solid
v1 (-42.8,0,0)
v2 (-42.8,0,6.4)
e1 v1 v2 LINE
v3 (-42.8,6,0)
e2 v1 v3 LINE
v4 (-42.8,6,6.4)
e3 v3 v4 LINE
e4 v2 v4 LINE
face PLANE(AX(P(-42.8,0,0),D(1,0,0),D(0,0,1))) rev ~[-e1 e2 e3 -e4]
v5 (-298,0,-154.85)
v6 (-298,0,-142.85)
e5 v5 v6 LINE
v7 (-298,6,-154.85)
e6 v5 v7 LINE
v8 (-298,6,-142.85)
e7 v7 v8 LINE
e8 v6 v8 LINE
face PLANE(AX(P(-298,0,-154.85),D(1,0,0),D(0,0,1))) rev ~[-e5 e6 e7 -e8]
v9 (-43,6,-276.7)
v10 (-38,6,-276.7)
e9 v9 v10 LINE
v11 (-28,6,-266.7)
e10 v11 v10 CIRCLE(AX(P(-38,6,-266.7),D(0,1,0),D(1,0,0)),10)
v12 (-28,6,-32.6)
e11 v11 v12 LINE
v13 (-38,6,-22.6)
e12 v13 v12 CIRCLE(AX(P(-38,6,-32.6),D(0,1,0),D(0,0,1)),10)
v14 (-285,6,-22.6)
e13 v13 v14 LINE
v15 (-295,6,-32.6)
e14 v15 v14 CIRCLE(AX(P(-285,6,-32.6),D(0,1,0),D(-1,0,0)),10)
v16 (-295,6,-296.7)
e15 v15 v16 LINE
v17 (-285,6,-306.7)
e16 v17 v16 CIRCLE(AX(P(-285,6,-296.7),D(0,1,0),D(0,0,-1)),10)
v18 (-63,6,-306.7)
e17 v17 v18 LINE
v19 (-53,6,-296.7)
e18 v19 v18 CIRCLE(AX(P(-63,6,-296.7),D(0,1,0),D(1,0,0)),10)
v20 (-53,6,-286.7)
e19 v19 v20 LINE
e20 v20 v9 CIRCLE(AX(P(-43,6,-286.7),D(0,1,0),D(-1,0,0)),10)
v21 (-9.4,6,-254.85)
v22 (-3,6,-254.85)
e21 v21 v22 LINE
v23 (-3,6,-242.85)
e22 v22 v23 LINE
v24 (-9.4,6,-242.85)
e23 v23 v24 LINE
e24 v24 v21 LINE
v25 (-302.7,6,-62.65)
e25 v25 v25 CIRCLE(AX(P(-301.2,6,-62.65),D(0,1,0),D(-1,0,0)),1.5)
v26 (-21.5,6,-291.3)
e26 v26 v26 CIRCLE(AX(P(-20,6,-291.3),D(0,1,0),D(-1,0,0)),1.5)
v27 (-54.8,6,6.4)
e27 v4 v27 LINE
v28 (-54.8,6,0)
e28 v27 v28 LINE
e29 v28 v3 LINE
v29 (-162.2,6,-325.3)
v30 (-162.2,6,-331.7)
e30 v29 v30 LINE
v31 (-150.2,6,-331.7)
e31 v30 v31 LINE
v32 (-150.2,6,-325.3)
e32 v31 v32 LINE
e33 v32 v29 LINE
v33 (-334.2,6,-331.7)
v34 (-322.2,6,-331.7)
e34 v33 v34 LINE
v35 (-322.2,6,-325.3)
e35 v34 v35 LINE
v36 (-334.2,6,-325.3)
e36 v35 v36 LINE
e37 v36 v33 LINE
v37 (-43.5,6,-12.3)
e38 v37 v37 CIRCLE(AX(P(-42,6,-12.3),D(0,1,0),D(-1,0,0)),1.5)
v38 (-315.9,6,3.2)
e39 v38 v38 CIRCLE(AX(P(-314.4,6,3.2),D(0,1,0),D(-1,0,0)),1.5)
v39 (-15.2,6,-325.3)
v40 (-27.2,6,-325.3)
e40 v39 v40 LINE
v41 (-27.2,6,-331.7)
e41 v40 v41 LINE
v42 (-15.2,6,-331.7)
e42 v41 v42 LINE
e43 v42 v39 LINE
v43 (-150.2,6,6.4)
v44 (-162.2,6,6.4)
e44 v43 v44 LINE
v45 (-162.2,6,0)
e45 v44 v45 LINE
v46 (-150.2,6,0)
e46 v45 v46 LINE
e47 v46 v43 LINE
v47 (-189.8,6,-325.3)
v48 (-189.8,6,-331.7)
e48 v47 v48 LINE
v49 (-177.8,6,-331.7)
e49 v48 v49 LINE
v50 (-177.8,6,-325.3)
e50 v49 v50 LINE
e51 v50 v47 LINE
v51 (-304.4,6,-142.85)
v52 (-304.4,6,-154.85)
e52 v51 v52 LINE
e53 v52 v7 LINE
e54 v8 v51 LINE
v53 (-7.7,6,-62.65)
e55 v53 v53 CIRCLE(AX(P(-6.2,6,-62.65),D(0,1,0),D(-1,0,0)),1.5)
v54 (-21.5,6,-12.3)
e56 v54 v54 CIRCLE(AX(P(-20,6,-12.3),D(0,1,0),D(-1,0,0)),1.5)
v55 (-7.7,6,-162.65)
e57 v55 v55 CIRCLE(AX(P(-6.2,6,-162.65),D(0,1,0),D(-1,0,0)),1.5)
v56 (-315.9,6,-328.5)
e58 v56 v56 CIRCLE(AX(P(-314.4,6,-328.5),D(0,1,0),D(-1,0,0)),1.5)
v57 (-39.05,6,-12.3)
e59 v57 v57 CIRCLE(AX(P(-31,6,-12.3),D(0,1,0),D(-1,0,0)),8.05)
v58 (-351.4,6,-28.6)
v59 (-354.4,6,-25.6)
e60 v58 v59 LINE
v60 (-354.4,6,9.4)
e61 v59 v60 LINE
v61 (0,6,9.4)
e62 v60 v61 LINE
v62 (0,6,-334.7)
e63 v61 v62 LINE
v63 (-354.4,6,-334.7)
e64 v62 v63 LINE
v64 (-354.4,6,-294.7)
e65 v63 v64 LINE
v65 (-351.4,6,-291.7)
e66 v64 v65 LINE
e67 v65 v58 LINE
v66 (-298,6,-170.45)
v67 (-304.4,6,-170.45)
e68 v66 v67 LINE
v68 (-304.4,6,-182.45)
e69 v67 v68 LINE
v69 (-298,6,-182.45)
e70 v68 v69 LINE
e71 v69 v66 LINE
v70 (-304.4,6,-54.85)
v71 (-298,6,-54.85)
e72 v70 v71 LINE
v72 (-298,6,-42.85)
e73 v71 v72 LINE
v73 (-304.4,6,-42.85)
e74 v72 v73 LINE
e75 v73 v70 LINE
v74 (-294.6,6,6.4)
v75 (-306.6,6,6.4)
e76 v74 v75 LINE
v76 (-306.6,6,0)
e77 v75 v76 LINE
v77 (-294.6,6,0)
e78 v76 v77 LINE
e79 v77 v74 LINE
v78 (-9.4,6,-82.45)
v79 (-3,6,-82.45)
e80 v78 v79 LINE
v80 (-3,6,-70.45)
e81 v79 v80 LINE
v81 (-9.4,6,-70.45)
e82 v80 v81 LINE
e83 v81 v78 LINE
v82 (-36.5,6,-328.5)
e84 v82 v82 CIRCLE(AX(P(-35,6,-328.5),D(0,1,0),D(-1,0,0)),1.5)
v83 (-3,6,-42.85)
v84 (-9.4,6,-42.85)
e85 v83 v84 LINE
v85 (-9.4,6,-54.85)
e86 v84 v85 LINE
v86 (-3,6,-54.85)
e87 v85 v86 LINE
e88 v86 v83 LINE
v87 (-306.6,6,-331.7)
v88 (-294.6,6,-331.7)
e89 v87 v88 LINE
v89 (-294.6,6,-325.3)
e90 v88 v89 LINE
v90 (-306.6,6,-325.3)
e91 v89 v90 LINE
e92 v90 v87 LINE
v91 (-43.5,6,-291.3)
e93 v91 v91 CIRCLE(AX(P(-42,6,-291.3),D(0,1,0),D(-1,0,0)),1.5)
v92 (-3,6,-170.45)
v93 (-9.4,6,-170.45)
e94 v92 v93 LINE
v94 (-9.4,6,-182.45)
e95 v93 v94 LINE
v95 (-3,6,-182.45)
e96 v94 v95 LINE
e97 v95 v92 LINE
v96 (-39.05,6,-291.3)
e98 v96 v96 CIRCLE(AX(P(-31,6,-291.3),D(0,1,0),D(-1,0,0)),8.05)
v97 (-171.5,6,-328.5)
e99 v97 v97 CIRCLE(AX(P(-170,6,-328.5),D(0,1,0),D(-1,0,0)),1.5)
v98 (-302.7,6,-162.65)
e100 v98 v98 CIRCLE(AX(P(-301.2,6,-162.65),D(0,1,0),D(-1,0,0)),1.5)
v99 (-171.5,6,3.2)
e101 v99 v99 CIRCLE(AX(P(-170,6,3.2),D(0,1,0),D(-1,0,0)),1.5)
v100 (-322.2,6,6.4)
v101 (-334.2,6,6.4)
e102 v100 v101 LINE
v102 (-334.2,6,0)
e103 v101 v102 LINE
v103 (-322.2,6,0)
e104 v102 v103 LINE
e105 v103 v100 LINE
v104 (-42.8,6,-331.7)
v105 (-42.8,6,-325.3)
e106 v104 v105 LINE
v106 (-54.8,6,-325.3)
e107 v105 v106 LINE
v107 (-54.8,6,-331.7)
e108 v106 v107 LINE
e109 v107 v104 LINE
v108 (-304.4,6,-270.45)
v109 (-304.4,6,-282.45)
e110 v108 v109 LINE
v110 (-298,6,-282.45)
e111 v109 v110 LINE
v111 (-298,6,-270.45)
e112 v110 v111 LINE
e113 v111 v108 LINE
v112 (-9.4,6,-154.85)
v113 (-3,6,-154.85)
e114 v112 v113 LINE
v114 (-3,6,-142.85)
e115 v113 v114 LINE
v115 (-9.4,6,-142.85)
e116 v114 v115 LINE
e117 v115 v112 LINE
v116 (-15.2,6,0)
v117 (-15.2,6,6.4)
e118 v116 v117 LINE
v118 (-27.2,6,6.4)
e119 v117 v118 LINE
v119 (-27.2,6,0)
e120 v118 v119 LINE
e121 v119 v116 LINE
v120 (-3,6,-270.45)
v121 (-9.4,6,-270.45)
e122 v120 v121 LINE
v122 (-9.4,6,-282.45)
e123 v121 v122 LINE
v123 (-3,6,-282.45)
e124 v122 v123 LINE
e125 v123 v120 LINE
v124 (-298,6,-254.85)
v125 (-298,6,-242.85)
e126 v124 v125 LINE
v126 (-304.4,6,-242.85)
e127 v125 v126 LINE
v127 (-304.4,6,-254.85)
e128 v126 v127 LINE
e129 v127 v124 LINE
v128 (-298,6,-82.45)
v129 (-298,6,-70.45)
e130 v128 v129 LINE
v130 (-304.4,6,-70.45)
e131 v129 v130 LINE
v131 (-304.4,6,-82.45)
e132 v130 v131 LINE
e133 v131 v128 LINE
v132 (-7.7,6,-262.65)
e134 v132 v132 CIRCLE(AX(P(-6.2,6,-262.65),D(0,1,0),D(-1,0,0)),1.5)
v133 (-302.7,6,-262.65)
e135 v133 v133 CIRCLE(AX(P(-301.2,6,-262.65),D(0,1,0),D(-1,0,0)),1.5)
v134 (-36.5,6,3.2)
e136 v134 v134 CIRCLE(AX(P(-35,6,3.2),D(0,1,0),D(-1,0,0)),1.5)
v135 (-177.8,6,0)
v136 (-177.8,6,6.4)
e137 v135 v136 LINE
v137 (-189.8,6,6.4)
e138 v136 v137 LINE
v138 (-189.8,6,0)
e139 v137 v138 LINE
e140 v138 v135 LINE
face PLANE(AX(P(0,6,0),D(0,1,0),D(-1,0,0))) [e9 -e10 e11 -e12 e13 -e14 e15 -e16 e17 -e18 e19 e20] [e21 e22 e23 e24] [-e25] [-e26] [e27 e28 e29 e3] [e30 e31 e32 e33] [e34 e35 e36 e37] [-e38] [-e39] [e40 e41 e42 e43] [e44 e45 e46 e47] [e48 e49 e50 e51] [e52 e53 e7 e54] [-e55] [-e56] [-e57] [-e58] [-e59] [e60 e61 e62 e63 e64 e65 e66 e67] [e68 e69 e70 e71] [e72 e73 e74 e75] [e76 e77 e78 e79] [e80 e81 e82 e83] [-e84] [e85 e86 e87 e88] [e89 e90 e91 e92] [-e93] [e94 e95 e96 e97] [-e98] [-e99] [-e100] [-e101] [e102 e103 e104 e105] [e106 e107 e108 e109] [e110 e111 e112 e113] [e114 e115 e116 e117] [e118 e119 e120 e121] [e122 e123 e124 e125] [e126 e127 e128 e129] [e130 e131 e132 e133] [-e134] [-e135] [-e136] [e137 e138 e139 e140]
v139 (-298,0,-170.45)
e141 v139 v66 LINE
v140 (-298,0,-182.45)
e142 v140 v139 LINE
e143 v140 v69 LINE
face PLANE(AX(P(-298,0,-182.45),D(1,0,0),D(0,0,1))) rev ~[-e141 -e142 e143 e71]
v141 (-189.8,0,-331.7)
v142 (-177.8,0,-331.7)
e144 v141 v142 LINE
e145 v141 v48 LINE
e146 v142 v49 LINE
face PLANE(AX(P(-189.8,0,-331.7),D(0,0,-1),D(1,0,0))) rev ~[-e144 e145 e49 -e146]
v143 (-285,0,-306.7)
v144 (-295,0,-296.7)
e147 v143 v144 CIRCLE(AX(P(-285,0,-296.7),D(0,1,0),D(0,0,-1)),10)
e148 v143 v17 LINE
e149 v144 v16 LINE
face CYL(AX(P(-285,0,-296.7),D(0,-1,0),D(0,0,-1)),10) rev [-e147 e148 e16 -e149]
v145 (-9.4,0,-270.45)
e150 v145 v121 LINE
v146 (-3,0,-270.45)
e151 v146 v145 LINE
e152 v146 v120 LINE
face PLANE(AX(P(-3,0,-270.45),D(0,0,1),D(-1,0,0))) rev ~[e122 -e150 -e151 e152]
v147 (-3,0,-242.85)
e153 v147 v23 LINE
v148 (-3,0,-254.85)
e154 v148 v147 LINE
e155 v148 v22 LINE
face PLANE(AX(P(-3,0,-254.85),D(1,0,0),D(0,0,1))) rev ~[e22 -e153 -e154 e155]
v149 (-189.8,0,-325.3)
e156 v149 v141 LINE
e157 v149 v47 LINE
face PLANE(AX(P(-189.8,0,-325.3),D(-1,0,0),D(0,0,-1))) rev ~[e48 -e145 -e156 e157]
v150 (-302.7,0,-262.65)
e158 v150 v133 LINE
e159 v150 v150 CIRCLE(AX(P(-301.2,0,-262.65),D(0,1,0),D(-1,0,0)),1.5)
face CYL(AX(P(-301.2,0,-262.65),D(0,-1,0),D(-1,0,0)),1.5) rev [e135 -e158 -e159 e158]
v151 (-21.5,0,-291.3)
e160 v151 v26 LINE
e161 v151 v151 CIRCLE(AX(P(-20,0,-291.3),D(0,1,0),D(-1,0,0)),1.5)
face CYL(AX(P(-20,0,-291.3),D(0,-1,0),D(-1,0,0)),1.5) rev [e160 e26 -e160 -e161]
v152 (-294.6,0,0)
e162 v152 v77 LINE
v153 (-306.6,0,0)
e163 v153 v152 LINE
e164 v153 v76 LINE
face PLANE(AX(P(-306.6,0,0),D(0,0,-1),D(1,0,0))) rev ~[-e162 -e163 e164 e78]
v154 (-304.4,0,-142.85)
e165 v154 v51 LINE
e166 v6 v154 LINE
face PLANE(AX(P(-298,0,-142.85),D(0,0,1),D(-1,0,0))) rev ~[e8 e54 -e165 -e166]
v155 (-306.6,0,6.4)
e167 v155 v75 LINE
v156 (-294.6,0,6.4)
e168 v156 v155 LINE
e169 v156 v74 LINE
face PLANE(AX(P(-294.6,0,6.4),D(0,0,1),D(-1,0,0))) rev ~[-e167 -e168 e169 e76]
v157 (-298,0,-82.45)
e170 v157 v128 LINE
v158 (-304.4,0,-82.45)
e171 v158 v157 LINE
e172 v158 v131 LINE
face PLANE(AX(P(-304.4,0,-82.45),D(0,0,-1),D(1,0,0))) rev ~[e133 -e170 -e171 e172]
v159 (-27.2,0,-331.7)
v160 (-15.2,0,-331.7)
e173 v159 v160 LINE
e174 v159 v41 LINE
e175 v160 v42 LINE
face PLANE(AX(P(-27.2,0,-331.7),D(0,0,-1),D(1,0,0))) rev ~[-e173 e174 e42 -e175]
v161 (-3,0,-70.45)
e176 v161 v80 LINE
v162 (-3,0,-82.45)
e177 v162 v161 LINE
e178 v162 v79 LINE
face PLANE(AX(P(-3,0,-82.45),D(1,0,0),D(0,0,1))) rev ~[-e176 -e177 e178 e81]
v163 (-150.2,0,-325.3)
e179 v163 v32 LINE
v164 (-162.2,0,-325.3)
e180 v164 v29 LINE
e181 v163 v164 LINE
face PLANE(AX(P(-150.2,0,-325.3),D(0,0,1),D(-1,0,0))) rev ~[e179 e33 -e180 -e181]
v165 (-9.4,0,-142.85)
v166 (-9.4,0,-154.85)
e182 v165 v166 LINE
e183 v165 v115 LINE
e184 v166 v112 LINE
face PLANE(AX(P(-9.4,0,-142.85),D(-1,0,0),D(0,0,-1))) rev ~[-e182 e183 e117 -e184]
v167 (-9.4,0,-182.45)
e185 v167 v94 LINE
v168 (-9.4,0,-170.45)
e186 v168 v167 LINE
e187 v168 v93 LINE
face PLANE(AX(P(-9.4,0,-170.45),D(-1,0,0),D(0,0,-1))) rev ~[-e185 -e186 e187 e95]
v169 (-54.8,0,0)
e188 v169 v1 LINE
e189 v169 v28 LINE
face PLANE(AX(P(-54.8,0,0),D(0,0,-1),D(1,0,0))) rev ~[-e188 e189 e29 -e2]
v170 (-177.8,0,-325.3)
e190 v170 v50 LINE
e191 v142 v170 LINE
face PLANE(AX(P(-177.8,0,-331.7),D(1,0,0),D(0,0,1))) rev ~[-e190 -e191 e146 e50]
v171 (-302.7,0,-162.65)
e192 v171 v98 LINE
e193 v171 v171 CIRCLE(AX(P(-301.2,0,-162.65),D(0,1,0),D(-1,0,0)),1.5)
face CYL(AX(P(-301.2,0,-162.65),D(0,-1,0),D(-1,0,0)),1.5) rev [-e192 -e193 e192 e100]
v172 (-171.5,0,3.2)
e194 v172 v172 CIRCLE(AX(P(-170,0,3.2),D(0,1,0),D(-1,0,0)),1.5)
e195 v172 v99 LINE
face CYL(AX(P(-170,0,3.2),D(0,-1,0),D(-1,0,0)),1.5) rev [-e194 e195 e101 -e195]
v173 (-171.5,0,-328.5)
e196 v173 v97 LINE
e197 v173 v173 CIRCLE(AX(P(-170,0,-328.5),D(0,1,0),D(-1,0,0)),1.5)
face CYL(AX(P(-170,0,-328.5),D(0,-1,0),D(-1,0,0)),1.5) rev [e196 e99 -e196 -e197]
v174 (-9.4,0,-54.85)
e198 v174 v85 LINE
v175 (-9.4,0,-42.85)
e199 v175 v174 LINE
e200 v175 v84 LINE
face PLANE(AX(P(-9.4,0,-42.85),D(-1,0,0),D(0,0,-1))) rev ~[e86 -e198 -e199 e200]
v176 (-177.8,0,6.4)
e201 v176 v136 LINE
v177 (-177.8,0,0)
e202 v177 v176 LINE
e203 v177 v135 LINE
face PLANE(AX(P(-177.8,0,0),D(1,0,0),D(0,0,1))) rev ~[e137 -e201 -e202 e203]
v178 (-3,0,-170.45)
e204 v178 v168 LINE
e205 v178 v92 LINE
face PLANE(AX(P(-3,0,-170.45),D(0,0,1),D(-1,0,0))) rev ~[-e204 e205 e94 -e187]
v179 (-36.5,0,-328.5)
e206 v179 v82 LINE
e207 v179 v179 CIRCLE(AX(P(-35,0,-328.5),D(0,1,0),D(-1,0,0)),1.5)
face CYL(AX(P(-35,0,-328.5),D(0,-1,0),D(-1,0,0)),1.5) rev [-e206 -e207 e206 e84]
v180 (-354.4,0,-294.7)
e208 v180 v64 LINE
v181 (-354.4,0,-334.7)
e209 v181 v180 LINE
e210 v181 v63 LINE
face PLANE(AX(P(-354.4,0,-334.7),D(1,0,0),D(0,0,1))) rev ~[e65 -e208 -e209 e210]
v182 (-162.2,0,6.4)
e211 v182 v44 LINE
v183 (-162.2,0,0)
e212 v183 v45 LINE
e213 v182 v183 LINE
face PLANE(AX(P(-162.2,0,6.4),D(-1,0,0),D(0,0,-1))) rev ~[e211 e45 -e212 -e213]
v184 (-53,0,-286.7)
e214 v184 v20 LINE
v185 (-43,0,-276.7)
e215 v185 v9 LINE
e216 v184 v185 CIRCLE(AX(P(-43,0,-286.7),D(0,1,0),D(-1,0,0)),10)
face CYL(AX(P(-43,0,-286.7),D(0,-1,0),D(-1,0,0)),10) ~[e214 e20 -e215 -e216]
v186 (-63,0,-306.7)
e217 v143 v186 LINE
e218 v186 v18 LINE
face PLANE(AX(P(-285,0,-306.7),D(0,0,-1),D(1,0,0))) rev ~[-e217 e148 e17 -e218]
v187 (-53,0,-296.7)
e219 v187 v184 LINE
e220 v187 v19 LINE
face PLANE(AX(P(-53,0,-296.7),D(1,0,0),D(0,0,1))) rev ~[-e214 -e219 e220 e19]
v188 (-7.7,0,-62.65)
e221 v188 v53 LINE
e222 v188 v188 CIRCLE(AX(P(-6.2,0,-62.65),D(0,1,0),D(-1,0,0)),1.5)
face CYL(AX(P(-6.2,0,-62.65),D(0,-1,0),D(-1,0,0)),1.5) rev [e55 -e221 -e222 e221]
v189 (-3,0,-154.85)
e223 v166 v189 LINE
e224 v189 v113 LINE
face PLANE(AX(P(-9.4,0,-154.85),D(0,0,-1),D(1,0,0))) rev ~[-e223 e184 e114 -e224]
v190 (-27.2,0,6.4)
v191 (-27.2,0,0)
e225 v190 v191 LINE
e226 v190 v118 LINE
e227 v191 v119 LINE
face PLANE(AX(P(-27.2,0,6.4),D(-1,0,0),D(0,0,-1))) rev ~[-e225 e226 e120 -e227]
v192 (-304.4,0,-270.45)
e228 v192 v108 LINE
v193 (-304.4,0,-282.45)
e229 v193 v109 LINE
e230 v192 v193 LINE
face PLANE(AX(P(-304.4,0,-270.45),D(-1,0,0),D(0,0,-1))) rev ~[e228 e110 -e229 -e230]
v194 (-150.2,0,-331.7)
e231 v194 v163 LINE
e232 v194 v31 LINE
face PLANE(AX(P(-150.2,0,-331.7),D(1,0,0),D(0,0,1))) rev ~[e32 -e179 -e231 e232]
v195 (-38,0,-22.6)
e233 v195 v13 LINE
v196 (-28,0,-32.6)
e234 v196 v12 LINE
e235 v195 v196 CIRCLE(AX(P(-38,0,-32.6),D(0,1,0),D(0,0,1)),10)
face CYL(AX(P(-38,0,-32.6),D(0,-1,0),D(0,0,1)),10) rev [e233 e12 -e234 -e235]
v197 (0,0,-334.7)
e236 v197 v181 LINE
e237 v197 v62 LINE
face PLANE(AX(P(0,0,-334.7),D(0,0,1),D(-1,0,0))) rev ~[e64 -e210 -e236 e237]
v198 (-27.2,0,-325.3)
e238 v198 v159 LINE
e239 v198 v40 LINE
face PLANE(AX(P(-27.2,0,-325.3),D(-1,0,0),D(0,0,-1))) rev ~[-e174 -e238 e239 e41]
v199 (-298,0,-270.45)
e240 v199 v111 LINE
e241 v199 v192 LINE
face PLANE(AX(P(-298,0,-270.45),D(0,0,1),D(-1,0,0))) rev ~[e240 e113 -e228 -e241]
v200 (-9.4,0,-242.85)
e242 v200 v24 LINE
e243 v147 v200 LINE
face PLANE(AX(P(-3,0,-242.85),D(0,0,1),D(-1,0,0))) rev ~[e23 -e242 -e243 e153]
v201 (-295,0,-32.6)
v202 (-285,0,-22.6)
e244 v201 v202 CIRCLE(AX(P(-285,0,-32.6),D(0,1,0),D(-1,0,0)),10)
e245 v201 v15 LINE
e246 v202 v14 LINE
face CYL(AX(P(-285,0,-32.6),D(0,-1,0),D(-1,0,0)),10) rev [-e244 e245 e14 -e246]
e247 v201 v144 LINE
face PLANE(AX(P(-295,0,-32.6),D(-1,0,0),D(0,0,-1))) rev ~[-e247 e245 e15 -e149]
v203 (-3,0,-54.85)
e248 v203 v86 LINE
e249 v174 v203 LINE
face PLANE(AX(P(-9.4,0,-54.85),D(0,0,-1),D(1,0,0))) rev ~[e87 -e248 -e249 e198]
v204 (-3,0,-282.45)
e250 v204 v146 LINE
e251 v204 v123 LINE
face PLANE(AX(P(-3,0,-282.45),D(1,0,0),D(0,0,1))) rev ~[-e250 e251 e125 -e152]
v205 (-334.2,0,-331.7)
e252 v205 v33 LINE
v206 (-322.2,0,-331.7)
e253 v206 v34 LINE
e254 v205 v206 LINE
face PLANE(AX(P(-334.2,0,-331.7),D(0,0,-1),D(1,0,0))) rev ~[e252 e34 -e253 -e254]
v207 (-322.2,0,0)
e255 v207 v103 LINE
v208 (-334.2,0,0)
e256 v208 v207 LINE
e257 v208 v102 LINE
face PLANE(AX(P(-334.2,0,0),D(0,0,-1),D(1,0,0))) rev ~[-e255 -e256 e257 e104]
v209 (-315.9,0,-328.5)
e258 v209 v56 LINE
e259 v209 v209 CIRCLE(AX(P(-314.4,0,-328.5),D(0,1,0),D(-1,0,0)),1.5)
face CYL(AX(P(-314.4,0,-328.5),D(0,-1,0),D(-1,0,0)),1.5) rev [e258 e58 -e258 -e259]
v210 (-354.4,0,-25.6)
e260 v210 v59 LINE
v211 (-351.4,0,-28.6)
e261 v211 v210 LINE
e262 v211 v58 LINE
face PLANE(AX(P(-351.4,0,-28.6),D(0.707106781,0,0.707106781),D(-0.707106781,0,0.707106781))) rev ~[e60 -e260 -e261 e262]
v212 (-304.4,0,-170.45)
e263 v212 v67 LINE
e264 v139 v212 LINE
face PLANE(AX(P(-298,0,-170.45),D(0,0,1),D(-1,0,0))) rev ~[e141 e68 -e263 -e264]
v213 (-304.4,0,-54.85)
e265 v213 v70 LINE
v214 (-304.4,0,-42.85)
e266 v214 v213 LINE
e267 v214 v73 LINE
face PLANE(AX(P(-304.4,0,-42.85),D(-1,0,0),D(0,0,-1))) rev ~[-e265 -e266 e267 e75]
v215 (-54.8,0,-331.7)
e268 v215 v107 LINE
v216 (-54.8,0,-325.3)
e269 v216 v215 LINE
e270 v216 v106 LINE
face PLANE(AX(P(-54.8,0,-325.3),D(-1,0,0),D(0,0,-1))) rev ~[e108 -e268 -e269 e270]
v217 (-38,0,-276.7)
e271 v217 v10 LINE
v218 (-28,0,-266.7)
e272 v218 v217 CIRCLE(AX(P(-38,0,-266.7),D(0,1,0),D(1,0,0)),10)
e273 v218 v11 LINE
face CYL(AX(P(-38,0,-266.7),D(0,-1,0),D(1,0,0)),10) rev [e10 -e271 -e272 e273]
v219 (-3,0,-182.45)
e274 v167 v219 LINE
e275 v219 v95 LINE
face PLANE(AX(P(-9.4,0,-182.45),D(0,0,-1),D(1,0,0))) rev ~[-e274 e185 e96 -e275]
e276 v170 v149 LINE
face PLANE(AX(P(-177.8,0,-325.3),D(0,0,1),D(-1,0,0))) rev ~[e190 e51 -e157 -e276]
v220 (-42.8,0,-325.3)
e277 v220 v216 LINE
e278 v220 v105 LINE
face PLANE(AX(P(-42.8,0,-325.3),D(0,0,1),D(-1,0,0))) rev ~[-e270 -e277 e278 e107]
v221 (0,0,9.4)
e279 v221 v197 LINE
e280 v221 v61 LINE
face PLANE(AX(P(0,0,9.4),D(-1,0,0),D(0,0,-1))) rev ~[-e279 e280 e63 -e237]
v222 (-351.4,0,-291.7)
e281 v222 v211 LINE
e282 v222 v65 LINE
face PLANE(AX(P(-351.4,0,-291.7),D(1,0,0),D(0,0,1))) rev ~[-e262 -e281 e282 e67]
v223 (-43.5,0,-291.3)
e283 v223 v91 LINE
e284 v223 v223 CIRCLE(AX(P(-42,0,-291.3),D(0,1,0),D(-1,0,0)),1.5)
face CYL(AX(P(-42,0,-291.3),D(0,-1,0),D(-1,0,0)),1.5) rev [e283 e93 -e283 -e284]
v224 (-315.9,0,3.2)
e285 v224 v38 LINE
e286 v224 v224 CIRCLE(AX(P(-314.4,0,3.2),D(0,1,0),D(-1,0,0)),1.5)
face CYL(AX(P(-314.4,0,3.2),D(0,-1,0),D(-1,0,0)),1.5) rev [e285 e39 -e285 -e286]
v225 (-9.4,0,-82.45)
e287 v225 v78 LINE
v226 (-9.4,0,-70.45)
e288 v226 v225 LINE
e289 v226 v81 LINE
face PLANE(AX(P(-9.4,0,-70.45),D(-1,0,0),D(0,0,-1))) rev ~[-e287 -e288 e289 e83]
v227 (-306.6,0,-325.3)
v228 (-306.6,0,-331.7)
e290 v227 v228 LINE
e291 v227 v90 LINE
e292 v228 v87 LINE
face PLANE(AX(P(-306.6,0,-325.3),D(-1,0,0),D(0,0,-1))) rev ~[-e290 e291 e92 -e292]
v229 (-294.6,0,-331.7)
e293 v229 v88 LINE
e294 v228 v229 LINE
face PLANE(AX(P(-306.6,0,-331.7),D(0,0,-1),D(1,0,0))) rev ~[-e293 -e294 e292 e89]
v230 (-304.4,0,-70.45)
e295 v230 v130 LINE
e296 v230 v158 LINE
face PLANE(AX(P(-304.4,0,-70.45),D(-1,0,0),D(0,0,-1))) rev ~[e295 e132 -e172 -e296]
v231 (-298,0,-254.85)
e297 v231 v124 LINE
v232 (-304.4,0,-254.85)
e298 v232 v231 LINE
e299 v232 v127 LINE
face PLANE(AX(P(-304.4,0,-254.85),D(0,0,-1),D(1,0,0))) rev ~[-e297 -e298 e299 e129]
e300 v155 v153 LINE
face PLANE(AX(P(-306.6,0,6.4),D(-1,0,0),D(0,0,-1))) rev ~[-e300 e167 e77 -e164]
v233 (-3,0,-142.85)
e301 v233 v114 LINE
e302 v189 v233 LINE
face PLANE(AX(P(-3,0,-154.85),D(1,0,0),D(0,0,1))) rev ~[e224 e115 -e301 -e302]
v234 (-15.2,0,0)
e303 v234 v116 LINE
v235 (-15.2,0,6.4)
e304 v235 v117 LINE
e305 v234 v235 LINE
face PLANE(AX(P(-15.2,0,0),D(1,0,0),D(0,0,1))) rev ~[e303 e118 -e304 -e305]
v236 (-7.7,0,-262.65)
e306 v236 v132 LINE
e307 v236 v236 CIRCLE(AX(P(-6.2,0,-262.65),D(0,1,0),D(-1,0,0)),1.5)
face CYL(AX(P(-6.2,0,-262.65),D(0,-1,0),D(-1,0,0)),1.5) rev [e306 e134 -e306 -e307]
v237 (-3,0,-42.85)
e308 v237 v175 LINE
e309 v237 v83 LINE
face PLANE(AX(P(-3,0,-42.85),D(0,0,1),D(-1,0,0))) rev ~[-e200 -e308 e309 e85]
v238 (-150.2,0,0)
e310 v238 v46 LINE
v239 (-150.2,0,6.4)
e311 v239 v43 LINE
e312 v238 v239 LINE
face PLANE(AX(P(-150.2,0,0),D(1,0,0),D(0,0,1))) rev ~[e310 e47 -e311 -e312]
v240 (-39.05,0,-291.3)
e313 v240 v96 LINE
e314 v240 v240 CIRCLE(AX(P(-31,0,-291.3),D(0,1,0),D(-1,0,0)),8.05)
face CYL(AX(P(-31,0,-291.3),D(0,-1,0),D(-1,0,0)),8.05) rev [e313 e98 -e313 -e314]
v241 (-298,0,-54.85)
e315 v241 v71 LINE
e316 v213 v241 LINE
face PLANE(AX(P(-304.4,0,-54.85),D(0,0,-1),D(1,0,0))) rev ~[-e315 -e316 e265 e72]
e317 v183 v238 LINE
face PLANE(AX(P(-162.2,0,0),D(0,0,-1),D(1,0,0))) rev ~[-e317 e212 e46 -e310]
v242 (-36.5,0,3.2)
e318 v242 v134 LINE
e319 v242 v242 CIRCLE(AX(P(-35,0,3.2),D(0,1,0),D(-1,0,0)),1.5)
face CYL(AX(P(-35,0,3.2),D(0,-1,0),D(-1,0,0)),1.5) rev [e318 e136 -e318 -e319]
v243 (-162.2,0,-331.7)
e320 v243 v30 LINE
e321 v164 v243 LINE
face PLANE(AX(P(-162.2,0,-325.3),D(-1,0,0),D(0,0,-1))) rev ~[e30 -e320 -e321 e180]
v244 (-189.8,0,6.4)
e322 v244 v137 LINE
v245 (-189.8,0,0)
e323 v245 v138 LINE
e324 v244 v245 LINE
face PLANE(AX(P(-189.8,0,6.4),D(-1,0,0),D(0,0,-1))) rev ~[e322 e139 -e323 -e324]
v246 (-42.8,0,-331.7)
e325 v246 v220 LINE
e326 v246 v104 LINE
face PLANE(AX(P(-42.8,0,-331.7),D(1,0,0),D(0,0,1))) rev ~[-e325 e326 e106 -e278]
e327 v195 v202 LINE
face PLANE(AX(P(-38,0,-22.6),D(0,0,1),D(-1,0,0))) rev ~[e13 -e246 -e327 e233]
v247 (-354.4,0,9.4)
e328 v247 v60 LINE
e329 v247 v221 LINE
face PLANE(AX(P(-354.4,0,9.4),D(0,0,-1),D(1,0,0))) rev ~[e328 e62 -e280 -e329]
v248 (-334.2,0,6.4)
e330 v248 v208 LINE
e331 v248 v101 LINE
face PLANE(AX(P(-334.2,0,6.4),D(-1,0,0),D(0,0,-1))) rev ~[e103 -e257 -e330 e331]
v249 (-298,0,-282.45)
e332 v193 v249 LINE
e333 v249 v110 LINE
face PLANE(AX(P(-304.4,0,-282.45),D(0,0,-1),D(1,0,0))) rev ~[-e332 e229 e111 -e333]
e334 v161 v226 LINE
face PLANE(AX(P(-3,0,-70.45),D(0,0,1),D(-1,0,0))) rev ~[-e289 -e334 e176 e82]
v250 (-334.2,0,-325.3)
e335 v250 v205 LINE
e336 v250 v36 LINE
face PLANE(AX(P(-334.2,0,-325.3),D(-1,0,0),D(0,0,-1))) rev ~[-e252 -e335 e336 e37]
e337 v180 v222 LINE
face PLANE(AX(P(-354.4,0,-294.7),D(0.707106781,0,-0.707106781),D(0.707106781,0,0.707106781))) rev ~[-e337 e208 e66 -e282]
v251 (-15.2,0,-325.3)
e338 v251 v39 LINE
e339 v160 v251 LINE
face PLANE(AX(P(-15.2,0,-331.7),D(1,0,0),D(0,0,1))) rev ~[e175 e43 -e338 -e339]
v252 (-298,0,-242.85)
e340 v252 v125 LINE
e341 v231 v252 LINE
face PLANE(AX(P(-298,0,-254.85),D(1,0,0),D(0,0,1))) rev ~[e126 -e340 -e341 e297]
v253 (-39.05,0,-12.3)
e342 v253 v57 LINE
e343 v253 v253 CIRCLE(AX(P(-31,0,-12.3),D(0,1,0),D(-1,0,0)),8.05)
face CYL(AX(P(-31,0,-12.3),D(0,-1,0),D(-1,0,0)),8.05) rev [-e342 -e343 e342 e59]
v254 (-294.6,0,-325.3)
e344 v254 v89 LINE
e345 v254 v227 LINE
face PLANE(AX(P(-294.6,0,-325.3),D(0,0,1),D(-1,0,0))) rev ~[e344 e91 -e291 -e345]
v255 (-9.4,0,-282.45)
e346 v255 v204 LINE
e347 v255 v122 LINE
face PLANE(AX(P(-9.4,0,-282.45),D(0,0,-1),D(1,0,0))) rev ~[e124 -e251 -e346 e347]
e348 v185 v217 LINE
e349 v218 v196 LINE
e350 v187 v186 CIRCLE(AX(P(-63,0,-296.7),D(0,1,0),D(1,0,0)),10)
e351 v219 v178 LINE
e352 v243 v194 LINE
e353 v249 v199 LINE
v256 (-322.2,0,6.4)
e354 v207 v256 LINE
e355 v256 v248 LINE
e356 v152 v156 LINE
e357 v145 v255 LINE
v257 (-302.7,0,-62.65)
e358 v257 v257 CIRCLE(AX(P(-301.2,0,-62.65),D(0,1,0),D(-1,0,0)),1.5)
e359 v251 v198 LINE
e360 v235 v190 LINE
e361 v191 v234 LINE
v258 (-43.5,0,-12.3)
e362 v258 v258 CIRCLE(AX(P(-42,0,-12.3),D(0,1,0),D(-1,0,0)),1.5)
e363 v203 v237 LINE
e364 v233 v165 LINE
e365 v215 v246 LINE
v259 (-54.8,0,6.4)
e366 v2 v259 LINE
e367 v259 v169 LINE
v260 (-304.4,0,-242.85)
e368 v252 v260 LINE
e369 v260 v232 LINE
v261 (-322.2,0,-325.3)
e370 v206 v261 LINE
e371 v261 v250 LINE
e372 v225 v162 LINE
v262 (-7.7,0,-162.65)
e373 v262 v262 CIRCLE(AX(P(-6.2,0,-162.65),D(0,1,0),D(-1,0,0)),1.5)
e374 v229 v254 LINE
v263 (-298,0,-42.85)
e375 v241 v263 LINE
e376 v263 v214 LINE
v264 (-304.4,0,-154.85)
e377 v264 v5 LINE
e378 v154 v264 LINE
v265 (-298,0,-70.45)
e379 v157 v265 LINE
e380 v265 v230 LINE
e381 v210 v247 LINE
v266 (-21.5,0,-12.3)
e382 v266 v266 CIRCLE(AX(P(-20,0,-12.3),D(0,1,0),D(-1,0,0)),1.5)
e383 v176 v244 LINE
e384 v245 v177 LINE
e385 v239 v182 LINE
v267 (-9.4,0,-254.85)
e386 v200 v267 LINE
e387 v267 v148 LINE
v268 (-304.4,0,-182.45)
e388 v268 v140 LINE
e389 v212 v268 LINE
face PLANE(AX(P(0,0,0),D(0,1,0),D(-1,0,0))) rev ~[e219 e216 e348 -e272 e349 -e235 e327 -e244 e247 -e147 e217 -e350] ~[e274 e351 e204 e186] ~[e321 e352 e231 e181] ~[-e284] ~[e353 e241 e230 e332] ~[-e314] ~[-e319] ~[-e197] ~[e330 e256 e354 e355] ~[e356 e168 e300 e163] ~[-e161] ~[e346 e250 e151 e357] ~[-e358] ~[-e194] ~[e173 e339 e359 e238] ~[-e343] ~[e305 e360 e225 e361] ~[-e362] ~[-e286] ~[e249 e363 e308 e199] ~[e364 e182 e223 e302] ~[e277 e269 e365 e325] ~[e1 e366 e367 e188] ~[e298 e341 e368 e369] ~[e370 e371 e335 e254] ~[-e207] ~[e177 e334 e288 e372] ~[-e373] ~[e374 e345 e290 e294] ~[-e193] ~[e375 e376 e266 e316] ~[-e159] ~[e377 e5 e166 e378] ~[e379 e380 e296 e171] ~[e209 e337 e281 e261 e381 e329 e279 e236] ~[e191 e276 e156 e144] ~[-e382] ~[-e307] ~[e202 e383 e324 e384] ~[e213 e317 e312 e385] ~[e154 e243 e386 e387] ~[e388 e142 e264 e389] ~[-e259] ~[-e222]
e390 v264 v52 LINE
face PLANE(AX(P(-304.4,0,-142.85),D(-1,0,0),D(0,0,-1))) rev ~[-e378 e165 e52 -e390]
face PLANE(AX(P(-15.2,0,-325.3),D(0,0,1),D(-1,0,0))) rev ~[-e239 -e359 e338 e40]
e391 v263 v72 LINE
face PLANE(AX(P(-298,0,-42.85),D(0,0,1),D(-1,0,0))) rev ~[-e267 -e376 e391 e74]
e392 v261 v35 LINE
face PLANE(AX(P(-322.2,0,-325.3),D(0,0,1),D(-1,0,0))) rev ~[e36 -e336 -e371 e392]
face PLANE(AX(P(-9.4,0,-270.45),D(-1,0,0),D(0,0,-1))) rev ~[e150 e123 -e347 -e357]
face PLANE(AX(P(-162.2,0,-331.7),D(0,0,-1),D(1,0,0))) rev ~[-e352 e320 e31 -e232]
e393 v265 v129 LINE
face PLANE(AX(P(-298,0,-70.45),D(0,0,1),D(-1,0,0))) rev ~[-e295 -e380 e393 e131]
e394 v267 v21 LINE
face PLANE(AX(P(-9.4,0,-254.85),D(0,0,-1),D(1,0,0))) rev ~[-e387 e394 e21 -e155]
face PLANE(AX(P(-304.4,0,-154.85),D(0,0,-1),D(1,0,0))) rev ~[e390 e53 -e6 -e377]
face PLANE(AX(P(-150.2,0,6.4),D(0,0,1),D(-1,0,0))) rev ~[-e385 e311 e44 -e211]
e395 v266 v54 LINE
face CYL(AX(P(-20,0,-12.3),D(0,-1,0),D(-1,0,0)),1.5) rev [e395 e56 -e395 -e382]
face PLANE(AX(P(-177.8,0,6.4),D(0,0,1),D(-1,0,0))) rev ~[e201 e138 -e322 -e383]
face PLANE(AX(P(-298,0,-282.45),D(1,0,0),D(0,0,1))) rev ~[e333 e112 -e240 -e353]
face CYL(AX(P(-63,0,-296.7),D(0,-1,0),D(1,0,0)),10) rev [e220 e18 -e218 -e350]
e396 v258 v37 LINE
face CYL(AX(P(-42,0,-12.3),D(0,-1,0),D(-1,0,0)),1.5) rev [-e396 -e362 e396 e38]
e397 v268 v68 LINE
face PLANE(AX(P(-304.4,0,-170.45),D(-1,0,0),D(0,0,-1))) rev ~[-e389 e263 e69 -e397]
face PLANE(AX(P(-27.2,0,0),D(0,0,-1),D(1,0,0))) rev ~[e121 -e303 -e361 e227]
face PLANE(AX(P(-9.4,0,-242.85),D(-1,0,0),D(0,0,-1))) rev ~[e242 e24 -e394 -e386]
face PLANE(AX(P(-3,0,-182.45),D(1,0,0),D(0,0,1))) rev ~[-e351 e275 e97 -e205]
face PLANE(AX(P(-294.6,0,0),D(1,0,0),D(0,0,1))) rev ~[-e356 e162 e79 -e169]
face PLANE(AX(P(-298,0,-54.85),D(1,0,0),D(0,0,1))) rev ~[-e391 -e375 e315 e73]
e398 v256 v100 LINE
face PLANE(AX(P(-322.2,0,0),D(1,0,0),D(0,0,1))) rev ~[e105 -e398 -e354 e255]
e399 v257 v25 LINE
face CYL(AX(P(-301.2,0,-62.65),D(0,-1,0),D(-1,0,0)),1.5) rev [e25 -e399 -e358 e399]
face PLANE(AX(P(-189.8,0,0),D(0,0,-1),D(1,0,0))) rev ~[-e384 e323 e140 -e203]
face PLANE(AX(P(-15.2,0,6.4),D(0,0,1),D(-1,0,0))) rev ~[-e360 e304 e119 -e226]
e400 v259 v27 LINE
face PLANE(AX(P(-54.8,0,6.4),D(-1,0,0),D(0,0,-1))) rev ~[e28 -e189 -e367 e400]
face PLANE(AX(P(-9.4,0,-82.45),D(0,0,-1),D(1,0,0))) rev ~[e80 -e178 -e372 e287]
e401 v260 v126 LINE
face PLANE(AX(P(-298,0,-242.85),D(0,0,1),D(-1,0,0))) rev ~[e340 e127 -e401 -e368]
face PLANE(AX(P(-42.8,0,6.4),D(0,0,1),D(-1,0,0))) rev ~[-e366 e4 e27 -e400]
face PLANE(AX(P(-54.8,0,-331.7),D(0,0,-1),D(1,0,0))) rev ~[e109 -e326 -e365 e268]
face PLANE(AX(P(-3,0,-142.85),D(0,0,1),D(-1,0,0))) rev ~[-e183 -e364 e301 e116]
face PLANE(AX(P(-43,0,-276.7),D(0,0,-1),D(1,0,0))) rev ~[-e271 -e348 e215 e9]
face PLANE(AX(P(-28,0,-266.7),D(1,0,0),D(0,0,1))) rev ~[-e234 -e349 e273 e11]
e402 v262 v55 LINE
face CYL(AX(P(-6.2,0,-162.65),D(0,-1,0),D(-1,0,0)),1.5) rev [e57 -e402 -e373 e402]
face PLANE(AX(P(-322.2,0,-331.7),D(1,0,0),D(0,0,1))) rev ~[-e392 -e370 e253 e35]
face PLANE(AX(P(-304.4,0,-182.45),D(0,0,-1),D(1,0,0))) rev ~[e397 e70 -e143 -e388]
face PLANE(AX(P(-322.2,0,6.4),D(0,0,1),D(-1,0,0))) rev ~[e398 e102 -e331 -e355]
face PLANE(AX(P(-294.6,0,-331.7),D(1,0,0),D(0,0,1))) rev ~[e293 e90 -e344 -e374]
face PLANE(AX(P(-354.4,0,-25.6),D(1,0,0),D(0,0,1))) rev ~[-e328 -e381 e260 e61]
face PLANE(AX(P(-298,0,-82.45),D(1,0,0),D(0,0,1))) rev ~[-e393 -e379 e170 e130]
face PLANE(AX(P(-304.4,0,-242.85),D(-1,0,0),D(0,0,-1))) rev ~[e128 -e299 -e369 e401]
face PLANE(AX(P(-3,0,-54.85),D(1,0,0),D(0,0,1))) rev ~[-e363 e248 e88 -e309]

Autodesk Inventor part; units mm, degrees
ref_plane "YZ Plane" through (0, 0, 0) normal (1, 0, 0) x (0, 1, 0)
ref_plane "XZ Plane" through (0, 0, 0) normal (0, 1, 0) x (-1, 0, 0)
ref_plane "XY Plane" through (0, 0, 0) normal (0, 0, 1) x (1, 0, 0)
sketch "Sketch1" plane through (0, 0, 0) normal (0, 1, 0) x (-1, 0, 0)
  line L0 (28, -266.7) -> (28, -32.6)
  arc A0 (38, -22.6) -> (28, -32.6) centre (38, -32.6) ccw
  line L1 (38, -22.6) -> (285, -22.6)
  arc A1 (295, -32.6) -> (285, -22.6) centre (285, -32.6) ccw
  line L2 (295, -32.6) -> (295, -296.7)
  arc A2 (285, -306.7) -> (295, -296.7) centre (285, -296.7) ccw
  line L3 (285, -306.7) -> (63, -306.7)
  arc A3 (53, -296.7) -> (63, -306.7) centre (63, -296.7) ccw
  line L4 (53, -296.7) -> (53, -286.7)
  arc A4 (53, -286.7) -> (43, -276.7) centre (43, -286.7) ccw
  line L5 (43, -276.7) -> (38, -276.7)
  arc A5 (28, -266.7) -> (38, -276.7) centre (38, -266.7) ccw
  line L6 (304.4, -70.45) -> (304.4, -82.45)
  line L7 (304.4, -82.45) -> (298, -82.45)
  line L8 (298, -82.45) -> (298, -70.45)
  line L9 (298, -70.45) -> (304.4, -70.45)
  line L10 (304.4, -42.85) -> (304.4, -54.85)
  line L11 (304.4, -54.85) -> (298, -54.85)
  line L12 (298, -54.85) -> (298, -42.85)
  line L13 (298, -42.85) -> (304.4, -42.85)
  line L14 (304.4, -170.45) -> (304.4, -182.45)
  line L15 (304.4, -182.45) -> (298, -182.45)
  line L16 (298, -182.45) -> (298, -170.45)
  line L17 (298, -170.45) -> (304.4, -170.45)
  line L18 (304.4, -142.85) -> (304.4, -154.85)
  line L19 (304.4, -154.85) -> (298, -154.85)
  line L20 (298, -154.85) -> (298, -142.85)
  line L21 (298, -142.85) -> (304.4, -142.85)
  line L22 (304.4, -270.45) -> (304.4, -282.45)
  line L23 (304.4, -282.45) -> (298, -282.45)
  line L24 (298, -282.45) -> (298, -270.45)
  line L25 (298, -270.45) -> (304.4, -270.45)
  line L26 (304.4, -242.85) -> (304.4, -254.85)
  line L27 (304.4, -254.85) -> (298, -254.85)
  line L28 (298, -254.85) -> (298, -242.85)
  line L29 (298, -242.85) -> (304.4, -242.85)
  line L30 (9.4, -70.45) -> (9.4, -82.45)
  line L31 (9.4, -82.45) -> (3, -82.45)
  line L32 (3, -82.45) -> (3, -70.45)
  line L33 (3, -70.45) -> (9.4, -70.45)
  line L34 (9.4, -42.85) -> (9.4, -54.85)
  line L35 (9.4, -54.85) -> (3, -54.85)
  line L36 (3, -54.85) -> (3, -42.85)
  line L37 (3, -42.85) -> (9.4, -42.85)
  line L38 (9.4, -170.45) -> (9.4, -182.45)
  line L39 (9.4, -182.45) -> (3, -182.45)
  line L40 (3, -182.45) -> (3, -170.45)
  line L41 (3, -170.45) -> (9.4, -170.45)
  line L42 (9.4, -142.85) -> (9.4, -154.85)
  line L43 (9.4, -154.85) -> (3, -154.85)
  line L44 (3, -154.85) -> (3, -142.85)
  line L45 (3, -142.85) -> (9.4, -142.85)
  line L46 (9.4, -270.45) -> (9.4, -282.45)
  line L47 (9.4, -282.45) -> (3, -282.45)
  line L48 (3, -282.45) -> (3, -270.45)
  line L49 (3, -270.45) -> (9.4, -270.45)
  line L50 (9.4, -242.85) -> (9.4, -254.85)
  line L51 (9.4, -254.85) -> (3, -254.85)
  line L52 (3, -254.85) -> (3, -242.85)
  line L53 (3, -242.85) -> (9.4, -242.85)
  line L54 (42.8, -325.3) -> (54.8, -325.3)
  line L55 (54.8, -325.3) -> (54.8, -331.7)
  line L56 (54.8, -331.7) -> (42.8, -331.7)
  line L57 (42.8, -331.7) -> (42.8, -325.3)
  line L58 (15.2, -325.3) -> (27.2, -325.3)
  line L59 (27.2, -325.3) -> (27.2, -331.7)
  line L60 (27.2, -331.7) -> (15.2, -331.7)
  line L61 (15.2, -331.7) -> (15.2, -325.3)
  line L62 (177.8, -325.3) -> (189.8, -325.3)
  line L63 (189.8, -325.3) -> (189.8, -331.7)
  line L64 (189.8, -331.7) -> (177.8, -331.7)
  line L65 (177.8, -331.7) -> (177.8, -325.3)
  line L66 (150.2, -325.3) -> (162.2, -325.3)
  line L67 (162.2, -325.3) -> (162.2, -331.7)
  line L68 (162.2, -331.7) -> (150.2, -331.7)
  line L69 (150.2, -331.7) -> (150.2, -325.3)
  line L70 (322.2, -325.3) -> (334.2, -325.3)
  line L71 (334.2, -325.3) -> (334.2, -331.7)
  line L72 (334.2, -331.7) -> (322.2, -331.7)
  line L73 (322.2, -331.7) -> (322.2, -325.3)
  line L74 (294.6, -325.3) -> (306.6, -325.3)
  line L75 (306.6, -325.3) -> (306.6, -331.7)
  line L76 (306.6, -331.7) -> (294.6, -331.7)
  line L77 (294.6, -331.7) -> (294.6, -325.3)
  line L78 (306.6, 0) -> (294.6, 0)
  line L79 (294.6, 0) -> (294.6, 6.4)
  line L80 (294.6, 6.4) -> (306.6, 6.4)
  line L81 (306.6, 6.4) -> (306.6, 0)
  line L82 (334.2, 0) -> (322.2, 0)
  line L83 (322.2, 0) -> (322.2, 6.4)
  line L84 (322.2, 6.4) -> (334.2, 6.4)
  line L85 (334.2, 6.4) -> (334.2, 0)
  line L86 (162.2, 0) -> (150.2, 0)
  line L87 (150.2, 0) -> (150.2, 6.4)
  line L88 (150.2, 6.4) -> (162.2, 6.4)
  line L89 (162.2, 6.4) -> (162.2, 0)
  line L90 (189.8, 0) -> (177.8, 0)
  line L91 (177.8, 0) -> (177.8, 6.4)
  line L92 (177.8, 6.4) -> (189.8, 6.4)
  line L93 (189.8, 6.4) -> (189.8, 0)
  line L94 (27.2, 0) -> (15.2, 0)
  line L95 (15.2, 0) -> (15.2, 6.4)
  line L96 (15.2, 6.4) -> (27.2, 6.4)
  line L97 (27.2, 6.4) -> (27.2, 0)
  line L98 (54.8, 0) -> (42.8, 0)
  line L99 (42.8, 0) -> (42.8, 6.4)
  line L100 (42.8, 6.4) -> (54.8, 6.4)
  line L101 (54.8, 6.4) -> (54.8, 0)
  line L102 (354.4, -294.7) -> (351.4, -291.7)
  line L103 (351.4, -291.7) -> (351.4, -28.6)
  line L104 (351.4, -28.6) -> (354.4, -25.6)
  line L105 (354.4, -25.6) -> (354.4, 9.4)
  line L106 (354.4, 9.4) -> (0, 9.4)
  line L107 (0, 9.4) -> (0, -334.7)
  line L108 (0, -334.7) -> (354.4, -334.7)
  line L109 (354.4, -334.7) -> (354.4, -294.7)
  circle A6 centre (20, -291.3) radius 1.5
  circle A7 centre (20, -12.3) radius 1.5
  circle A8 centre (42, -12.3) radius 1.5
  circle A9 centre (42, -291.3) radius 1.5
  circle A10 centre (35, 3.2) radius 1.5
  circle A11 centre (170, 3.2) radius 1.5
  circle A12 centre (314.4, 3.2) radius 1.5
  circle A13 centre (314.4, -328.5) radius 1.5
  circle A14 centre (170, -328.5) radius 1.5
  circle A15 centre (35, -328.5) radius 1.5
  circle A16 centre (301.2, -262.65) radius 1.5
  circle A17 centre (301.2, -162.65) radius 1.5
  circle A18 centre (301.2, -62.65) radius 1.5
  circle A19 centre (6.2, -262.65) radius 1.5
  circle A20 centre (6.2, -162.65) radius 1.5
  circle A21 centre (6.2, -62.65) radius 1.5
  circle A22 centre (31, -291.3) radius 8.05
  circle A23 centre (31, -12.3) radius 8.05
  point P0 (0, 0)
  dimension "d0" = 344.1
  dimension "d2" = 354.4
  dimension "d3" = 9.4
  dimension "d4" = 0
  dimension "d5" = 3
  dimension "d6" = 35
  dimension "d7" = 135
  dimension "d8" = 40
  dimension "d9" = 6.4
  dimension "d10" = 3.2
  dimension "d11" = 12
  dimension "d12" = 7.8
  dimension "d13" = 7.8
  dimension "d14" = 12
  dimension "d15" = 12
  dimension "d16" = 7.8
  dimension "d17" = 7.8
  dimension "d18" = 12
  dimension "d19" = 12
  dimension "d20" = 7.8
  dimension "d21" = 7.8
  dimension "d22" = 12
  dimension "d23" = 135
  dimension "d24" = 144.4
  dimension "d25" = 6.4
  dimension "d26" = 3.2
  dimension "d27" = 6.2
  dimension "d28" = 35
  dimension "d29" = 3
  dimension "d30" = 6.2
  dimension "d31" = 6.4
  dimension "d32" = 3.2
  dimension "d33" = 12
  dimension "d34" = 7.8
  dimension "d35" = 7.8
  dimension "d36" = 12
  dimension "d37" = 12
  dimension "d38" = 7.8
  dimension "d39" = 7.8
  dimension "d40" = 12
  dimension "d41" = 12
  dimension "d42" = 7.8
  dimension "d43" = 7.8
  dimension "d44" = 12
  dimension "d46" = 6.2
  dimension "d47" = 100
  dimension "d48" = 100
  dimension "d49" = 53.2
  dimension "d50" = 6.4
  dimension "d51" = 3.2
  dimension "d52" = 16.1
  dimension "d53" = 11
  dimension "d54" = 11
  dimension "d55" = 21.7
  dimension "d56" = 31
  dimension "d57" = 43.4
  dimension "d58" = 28
  dimension "d59" = 32
  dimension "d60" = 56.4
  dimension "d61" = 28
  dimension "d62" = 25
  dimension "d63" = 30
  dimension "d64" = 10
  dimension "d67" = 162.65
extrude "Extrusion1" add sketch "Sketch1" along normal blind 6
properties part number "lewa_gt2"
